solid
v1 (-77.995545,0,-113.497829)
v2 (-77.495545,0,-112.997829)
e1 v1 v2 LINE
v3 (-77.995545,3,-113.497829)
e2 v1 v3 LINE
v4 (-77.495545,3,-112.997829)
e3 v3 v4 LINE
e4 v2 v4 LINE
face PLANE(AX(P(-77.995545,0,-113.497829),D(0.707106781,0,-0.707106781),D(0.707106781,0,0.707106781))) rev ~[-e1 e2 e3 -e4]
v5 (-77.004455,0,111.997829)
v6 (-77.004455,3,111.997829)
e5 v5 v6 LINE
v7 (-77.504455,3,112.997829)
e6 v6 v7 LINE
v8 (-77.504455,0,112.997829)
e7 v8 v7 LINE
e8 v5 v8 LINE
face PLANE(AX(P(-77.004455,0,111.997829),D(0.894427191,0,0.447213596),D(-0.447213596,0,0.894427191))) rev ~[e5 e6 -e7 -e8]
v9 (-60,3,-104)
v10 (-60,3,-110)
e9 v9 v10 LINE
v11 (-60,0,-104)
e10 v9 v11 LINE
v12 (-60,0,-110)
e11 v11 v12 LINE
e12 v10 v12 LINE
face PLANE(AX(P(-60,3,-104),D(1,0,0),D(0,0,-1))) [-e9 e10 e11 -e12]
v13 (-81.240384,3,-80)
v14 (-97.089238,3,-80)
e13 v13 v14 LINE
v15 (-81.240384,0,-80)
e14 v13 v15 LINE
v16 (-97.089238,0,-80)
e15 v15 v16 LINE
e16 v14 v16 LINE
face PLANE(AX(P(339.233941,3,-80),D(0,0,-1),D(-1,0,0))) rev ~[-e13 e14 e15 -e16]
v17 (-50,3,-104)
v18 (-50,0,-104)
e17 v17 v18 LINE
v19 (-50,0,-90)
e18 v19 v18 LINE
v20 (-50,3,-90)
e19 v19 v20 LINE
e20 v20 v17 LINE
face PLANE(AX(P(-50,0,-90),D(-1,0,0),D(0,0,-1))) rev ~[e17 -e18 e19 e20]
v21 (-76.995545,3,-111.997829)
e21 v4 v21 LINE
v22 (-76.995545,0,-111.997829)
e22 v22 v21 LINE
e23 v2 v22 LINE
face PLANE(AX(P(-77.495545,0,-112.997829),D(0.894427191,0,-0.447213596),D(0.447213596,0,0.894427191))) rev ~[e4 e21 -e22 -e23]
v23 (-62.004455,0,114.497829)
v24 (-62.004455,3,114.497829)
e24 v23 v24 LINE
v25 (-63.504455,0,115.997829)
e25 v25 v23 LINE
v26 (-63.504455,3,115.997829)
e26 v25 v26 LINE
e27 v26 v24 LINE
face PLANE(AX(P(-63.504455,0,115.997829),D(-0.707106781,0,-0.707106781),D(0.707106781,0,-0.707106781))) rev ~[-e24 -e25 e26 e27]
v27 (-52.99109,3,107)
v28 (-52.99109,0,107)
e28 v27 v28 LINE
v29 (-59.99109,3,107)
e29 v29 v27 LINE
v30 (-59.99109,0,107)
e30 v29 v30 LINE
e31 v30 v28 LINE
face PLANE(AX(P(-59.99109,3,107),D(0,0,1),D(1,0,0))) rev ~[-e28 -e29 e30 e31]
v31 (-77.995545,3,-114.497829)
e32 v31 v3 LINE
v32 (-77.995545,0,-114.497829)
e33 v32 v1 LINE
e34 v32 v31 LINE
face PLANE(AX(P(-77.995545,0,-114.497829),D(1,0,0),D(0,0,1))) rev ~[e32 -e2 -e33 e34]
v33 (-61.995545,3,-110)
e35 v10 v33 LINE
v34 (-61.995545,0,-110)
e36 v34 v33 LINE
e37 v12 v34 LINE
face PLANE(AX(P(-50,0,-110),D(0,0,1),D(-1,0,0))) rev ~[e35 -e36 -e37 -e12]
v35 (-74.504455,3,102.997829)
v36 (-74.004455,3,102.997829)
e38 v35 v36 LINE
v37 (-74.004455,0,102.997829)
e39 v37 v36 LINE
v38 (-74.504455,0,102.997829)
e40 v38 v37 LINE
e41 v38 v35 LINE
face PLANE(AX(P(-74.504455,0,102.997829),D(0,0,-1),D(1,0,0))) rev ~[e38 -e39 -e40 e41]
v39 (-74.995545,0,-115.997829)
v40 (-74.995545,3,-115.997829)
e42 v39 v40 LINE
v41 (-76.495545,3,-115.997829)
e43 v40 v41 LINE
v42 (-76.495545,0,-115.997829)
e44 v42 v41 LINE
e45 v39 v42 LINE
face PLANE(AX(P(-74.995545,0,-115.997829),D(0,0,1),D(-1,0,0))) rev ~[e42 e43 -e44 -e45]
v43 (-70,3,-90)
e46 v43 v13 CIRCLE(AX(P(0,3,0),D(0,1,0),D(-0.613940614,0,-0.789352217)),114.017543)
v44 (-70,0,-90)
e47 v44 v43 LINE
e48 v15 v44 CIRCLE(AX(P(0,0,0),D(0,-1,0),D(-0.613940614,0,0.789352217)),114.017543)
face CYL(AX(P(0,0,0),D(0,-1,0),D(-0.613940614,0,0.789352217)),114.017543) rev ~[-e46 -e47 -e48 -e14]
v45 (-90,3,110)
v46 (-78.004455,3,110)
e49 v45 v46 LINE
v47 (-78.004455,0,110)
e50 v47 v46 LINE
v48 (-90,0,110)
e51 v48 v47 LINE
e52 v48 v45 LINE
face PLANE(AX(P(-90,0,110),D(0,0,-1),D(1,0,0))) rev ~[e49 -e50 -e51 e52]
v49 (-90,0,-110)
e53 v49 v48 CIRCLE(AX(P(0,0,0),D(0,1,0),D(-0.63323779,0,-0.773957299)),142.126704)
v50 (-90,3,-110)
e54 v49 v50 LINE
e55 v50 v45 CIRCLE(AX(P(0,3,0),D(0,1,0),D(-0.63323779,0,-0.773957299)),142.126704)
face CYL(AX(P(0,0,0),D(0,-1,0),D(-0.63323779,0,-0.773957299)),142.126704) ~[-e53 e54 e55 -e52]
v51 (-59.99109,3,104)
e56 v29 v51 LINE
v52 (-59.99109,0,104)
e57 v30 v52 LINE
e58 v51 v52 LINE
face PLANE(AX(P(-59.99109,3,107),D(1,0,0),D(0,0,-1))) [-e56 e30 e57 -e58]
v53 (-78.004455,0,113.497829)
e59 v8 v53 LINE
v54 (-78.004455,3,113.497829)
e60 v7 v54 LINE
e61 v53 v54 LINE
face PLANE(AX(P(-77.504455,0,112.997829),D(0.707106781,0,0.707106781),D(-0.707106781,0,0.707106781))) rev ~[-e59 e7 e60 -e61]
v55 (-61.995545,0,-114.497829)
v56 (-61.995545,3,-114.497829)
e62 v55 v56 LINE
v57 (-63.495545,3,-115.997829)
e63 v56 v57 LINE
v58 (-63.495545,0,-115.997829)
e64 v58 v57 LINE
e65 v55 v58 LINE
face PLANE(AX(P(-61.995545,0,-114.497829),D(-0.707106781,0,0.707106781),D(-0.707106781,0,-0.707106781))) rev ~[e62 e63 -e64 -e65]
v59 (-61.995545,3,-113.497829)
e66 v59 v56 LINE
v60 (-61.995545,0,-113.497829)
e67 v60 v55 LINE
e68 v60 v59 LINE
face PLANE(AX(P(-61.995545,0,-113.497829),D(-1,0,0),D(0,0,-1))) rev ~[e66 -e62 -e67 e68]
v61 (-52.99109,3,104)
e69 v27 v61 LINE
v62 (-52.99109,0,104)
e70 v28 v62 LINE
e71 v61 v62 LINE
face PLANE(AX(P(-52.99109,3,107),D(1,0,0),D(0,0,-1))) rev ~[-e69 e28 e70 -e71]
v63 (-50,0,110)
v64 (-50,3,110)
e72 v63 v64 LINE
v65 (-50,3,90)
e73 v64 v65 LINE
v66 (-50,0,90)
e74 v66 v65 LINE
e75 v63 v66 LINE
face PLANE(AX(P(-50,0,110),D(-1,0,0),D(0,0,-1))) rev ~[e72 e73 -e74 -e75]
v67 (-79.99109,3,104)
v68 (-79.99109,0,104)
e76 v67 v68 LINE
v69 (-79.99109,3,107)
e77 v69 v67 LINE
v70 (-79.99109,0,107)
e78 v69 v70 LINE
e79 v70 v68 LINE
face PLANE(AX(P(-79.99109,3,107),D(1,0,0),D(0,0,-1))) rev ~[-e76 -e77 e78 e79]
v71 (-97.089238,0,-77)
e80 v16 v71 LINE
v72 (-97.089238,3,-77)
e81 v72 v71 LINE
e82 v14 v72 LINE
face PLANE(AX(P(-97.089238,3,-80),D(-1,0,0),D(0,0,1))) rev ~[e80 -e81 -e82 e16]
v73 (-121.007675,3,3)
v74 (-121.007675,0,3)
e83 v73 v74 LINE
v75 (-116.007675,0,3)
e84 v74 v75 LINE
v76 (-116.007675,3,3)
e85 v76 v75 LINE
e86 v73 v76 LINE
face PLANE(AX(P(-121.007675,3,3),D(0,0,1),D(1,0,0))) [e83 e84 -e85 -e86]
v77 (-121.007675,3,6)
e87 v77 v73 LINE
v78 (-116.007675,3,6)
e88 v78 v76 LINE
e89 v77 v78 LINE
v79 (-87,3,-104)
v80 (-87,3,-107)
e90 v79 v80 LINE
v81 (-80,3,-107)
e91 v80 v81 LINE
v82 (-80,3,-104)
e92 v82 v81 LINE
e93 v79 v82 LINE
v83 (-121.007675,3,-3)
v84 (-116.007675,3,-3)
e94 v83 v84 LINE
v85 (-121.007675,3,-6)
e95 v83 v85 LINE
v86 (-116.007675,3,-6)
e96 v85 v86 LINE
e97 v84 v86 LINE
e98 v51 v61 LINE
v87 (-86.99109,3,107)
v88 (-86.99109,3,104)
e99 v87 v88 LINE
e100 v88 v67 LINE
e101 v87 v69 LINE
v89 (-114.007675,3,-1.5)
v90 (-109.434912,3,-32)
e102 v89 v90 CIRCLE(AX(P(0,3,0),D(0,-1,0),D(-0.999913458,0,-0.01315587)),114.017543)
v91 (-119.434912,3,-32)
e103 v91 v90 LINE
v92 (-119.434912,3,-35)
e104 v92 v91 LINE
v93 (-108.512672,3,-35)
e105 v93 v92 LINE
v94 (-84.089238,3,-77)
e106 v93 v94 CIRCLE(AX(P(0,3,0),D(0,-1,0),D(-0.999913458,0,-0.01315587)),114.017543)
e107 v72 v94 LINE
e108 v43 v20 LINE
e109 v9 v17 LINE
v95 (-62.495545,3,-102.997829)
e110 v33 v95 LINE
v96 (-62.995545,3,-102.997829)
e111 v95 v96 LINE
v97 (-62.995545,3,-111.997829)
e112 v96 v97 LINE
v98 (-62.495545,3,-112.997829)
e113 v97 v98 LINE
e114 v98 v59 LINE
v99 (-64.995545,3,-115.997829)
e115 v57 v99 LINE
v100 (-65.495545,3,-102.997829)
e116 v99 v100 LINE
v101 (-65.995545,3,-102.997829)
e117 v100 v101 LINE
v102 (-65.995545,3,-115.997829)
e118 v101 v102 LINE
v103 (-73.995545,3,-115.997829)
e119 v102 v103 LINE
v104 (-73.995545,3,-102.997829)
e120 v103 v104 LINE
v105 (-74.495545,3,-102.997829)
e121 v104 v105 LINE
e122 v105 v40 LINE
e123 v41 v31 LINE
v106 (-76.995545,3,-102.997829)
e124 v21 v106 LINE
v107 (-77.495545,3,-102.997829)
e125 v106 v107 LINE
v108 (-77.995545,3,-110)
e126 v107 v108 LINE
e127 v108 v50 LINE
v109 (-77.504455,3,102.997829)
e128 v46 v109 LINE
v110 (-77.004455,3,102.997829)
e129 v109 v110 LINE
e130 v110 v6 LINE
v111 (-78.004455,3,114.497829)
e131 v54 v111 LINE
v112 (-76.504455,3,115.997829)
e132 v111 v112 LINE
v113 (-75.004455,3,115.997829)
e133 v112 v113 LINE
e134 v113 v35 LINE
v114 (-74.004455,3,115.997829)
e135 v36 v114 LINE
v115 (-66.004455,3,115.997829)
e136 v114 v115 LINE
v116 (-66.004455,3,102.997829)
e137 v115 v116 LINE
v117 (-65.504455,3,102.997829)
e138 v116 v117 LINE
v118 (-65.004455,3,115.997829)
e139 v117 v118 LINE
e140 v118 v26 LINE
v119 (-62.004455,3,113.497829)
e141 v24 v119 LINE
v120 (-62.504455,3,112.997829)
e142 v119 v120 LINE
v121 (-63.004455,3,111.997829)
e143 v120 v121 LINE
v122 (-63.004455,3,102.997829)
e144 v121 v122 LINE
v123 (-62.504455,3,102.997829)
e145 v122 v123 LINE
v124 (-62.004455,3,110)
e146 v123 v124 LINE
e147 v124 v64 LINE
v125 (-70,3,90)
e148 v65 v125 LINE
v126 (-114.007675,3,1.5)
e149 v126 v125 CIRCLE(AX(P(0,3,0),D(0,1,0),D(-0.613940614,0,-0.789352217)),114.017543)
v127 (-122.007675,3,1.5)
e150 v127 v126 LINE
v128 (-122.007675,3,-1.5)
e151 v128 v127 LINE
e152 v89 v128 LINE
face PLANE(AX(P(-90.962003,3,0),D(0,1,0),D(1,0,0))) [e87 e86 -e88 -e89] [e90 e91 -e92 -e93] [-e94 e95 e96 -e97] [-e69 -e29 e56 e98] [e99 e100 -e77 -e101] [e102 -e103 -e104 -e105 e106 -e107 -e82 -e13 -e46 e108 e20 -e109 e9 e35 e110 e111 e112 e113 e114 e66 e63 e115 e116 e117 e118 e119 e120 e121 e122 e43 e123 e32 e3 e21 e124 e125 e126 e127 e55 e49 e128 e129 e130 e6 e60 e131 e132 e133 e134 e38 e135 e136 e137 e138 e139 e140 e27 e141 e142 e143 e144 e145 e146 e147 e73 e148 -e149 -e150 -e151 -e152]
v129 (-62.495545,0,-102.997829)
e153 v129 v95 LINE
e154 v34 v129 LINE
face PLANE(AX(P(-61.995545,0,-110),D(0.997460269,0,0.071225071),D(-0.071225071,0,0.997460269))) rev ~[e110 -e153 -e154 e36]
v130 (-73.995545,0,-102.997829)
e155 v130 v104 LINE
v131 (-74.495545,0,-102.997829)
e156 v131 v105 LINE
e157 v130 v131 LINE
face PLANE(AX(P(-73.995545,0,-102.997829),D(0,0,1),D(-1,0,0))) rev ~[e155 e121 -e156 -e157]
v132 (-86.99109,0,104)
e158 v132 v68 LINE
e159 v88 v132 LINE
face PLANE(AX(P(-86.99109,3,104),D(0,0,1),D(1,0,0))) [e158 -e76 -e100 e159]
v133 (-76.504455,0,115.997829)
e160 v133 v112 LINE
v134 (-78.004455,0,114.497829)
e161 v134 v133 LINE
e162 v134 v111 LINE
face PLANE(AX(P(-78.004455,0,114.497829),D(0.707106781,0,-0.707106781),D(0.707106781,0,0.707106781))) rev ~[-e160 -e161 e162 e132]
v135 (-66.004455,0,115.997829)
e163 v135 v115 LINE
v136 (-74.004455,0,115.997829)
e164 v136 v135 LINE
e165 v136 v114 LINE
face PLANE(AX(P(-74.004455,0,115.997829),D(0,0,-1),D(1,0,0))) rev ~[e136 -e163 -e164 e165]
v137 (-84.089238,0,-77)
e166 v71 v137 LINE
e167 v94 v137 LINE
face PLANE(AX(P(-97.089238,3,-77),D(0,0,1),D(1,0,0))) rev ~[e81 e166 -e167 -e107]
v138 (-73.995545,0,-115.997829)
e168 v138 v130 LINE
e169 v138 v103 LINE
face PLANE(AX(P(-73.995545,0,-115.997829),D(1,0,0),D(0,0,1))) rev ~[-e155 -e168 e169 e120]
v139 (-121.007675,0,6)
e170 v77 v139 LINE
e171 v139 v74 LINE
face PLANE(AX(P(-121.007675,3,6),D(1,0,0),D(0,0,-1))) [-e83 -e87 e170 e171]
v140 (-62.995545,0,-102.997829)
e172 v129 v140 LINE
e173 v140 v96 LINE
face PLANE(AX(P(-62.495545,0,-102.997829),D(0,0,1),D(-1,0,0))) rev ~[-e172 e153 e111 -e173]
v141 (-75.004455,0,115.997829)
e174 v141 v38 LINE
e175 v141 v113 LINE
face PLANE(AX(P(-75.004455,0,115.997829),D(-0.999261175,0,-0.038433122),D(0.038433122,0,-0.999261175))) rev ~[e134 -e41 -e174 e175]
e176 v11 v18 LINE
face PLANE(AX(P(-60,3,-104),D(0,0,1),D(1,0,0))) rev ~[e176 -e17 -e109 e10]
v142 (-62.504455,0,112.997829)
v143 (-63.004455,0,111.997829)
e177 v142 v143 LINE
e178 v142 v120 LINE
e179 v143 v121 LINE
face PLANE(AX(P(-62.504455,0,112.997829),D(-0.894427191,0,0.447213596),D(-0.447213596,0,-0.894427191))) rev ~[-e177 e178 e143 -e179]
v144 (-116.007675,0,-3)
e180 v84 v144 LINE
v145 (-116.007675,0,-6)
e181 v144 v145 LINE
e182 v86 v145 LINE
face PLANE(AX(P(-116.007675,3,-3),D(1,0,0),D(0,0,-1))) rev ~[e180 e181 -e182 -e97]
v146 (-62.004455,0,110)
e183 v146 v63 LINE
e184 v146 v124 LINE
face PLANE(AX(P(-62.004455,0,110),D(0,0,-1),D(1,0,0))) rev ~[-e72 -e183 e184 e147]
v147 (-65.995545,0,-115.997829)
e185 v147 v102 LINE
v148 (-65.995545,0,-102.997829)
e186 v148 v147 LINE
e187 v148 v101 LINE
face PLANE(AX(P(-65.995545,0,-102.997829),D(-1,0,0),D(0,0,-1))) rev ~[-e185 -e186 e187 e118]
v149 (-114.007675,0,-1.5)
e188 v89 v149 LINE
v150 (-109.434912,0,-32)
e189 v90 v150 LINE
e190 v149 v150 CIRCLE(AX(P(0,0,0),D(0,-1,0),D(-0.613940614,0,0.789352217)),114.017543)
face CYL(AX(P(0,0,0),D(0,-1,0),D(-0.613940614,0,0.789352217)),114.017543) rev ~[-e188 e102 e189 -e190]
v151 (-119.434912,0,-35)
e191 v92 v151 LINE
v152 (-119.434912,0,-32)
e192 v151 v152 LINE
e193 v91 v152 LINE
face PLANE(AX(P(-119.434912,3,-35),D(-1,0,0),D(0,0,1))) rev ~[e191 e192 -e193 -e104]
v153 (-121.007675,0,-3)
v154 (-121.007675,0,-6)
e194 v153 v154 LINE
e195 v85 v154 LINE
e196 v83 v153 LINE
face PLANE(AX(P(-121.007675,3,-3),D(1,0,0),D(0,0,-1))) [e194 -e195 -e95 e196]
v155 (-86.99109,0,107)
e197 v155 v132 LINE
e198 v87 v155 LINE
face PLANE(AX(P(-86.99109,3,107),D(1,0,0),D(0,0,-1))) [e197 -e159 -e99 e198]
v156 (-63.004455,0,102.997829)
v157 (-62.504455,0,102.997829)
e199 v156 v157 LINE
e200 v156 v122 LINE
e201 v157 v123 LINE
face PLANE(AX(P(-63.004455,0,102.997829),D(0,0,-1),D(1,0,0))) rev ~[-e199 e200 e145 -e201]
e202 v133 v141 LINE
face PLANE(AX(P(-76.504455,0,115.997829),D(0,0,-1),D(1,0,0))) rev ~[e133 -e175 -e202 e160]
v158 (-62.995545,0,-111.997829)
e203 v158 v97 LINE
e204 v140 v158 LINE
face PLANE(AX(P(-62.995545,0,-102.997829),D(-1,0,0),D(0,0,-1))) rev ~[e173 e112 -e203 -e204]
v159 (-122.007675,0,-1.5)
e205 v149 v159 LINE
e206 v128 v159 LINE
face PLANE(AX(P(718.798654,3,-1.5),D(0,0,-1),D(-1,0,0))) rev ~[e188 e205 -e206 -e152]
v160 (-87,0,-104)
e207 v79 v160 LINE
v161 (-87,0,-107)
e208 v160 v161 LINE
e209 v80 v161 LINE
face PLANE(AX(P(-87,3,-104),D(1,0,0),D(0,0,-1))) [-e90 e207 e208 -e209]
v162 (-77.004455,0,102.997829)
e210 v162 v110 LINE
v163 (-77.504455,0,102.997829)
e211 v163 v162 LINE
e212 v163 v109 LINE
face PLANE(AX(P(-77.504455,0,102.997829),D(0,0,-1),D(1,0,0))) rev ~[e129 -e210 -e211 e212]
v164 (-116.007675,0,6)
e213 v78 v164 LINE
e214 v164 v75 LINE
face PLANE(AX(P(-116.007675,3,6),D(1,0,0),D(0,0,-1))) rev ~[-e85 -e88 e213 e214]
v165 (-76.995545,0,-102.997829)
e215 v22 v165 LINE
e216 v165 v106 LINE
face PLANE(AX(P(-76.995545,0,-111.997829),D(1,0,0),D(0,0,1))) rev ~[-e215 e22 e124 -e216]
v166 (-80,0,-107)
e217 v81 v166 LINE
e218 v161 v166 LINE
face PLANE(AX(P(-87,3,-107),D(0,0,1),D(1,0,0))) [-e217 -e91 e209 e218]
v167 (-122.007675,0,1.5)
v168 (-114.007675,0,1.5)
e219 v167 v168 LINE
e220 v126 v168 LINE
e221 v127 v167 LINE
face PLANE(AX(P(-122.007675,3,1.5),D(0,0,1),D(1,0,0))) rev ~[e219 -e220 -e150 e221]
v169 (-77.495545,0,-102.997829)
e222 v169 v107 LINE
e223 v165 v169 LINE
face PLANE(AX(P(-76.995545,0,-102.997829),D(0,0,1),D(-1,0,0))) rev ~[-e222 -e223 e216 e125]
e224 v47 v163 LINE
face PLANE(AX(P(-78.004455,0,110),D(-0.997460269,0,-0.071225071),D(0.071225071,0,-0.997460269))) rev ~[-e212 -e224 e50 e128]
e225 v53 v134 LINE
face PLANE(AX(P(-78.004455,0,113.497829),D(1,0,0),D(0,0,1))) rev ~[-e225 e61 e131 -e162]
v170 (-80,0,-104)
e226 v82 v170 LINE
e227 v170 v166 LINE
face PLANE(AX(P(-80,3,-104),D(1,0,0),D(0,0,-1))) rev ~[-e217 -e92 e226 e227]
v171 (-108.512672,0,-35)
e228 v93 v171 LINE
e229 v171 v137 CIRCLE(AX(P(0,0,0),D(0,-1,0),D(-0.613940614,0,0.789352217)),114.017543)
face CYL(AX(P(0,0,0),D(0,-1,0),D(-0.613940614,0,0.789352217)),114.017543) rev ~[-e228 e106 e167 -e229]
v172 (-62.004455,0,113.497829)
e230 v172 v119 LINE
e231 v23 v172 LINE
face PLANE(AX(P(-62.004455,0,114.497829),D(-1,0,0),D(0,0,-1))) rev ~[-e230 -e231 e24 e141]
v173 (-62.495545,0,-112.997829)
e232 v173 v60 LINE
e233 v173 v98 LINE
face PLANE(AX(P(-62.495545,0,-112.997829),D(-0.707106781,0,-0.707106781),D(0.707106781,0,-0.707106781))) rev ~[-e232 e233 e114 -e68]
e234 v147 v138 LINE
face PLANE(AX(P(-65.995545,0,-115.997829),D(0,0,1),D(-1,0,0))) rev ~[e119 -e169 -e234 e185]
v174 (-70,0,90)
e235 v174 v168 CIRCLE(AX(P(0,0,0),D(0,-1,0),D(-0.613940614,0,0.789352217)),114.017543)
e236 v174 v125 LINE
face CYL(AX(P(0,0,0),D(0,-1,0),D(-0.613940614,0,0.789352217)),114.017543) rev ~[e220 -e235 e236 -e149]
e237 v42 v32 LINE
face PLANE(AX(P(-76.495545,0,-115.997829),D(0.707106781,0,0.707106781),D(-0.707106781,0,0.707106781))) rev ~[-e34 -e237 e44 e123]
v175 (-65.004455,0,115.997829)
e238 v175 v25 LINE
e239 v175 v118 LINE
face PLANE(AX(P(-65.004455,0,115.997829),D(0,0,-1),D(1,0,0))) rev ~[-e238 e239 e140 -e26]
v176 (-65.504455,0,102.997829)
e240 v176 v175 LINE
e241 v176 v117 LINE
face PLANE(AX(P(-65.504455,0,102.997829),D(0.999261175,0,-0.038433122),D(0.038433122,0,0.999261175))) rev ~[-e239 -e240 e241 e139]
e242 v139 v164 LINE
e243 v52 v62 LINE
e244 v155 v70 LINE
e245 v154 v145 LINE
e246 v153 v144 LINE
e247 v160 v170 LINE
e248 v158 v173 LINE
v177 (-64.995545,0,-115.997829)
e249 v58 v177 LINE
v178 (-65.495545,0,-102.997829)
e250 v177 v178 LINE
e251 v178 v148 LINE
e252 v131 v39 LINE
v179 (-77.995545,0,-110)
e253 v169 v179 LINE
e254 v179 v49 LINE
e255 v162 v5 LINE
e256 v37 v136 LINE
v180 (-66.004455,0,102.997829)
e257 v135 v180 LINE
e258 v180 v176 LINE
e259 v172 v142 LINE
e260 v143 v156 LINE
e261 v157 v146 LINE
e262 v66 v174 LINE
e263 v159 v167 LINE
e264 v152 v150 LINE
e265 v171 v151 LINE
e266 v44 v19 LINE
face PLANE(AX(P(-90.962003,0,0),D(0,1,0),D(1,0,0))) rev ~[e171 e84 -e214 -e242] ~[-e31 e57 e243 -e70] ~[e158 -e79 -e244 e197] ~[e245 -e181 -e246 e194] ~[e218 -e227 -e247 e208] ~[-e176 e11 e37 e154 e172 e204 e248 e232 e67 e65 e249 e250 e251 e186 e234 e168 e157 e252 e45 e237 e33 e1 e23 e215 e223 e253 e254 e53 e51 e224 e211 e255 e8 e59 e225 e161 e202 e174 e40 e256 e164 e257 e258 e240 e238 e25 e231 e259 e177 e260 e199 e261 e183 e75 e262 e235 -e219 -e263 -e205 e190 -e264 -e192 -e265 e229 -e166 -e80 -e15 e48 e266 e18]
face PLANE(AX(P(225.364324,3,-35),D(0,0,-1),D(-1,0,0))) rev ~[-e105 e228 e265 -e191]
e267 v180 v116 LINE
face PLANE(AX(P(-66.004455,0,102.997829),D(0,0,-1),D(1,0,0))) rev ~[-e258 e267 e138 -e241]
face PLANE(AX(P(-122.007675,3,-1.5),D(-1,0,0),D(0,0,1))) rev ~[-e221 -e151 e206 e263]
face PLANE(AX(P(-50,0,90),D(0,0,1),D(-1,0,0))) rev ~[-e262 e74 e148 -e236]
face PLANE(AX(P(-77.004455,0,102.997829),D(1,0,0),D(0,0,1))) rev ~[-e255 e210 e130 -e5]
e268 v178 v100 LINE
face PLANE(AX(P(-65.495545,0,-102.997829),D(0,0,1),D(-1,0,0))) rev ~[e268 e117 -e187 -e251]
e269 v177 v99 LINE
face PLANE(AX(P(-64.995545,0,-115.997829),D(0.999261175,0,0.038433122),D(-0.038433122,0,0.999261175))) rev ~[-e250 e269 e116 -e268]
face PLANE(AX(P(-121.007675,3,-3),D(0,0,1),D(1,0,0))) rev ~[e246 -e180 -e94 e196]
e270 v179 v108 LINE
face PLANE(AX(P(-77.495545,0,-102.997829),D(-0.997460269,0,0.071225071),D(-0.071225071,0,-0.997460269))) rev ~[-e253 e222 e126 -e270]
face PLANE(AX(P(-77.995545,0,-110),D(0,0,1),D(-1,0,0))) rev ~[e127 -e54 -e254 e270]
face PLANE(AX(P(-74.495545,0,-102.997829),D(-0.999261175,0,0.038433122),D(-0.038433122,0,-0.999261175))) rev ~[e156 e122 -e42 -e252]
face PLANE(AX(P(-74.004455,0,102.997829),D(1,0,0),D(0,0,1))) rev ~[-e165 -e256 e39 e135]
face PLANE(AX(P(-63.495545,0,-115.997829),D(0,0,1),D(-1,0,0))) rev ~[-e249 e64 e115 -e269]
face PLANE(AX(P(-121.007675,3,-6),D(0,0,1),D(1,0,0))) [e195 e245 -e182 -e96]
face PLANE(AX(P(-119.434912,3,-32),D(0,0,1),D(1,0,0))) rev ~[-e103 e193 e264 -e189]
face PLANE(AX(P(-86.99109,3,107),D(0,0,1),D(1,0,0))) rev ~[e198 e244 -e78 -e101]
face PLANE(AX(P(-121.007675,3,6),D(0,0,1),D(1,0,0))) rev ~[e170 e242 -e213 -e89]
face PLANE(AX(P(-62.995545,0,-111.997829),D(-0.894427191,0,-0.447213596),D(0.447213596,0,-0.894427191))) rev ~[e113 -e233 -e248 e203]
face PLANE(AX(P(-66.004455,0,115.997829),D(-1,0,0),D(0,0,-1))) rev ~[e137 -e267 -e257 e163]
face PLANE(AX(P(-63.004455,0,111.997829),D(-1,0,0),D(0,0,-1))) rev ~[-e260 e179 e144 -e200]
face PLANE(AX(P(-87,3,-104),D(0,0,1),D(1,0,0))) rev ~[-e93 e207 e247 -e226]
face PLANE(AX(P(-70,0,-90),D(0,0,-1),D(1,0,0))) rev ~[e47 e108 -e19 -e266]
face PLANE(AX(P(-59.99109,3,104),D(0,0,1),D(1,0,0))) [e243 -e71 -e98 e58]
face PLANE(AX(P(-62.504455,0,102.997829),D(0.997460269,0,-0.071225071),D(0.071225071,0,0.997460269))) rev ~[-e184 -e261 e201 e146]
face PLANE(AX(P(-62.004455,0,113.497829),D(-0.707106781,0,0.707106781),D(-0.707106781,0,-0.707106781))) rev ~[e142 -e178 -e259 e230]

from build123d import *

# Parameters (mm, degrees)
BOSS_EXTRUDE2_DEPTH      = 3
SKETCH3_W                = 10
SKETCH3_H                = 6
SKETCH3_W_2              = 7
SKETCH3_H_2              = 3
CUT_EXTRUDE1_DEPTH       = 3
CUT_EXTRUDE3_DEPTH       = 1
CUT_EXTRUDE3_DEPTH_BACK  = 3
SKETCH10_W               = 5
SKETCH10_H               = 3
CUT_EXTRUDE4_DEPTH       = 10
CUT_EXTRUDE12_DEPTH      = 1
CUT_EXTRUDE12_DEPTH_BACK = 3
CUT_EXTRUDE13_DEPTH      = 1
CUT_EXTRUDE13_DEPTH_BACK = 3


with BuildPart() as part:
    # Sketch2 → Boss-Extrude2 (new body)
    with BuildSketch(Plane(origin=(0, 0, 0), x_dir=(1, 0, 0), z_dir=(0, 1, 0))):
        with BuildLine():
            Line((-70, 90), (-50, 90))
            Line((-50, 90), (-50, 110))
            Line((-50, 110), (-61.99554496, 110))
            Line((-61.99554496, 110), (-62.49554496, 102.997828908))
            Line((-62.49554496, 102.997828908), (-62.99554496, 102.997828908))
            Line((-62.99554496, 102.997828908), (-62.99554496, 111.997828908))
            Line((-62.99554496, 111.997828908), (-62.49554496, 112.997828908))
            Line((-62.49554496, 112.997828908), (-61.99554496, 113.497828908))
            Line((-61.99554496, 113.497828908), (-61.99554496, 114.497828908))
            Line((-61.99554496, 114.497828908), (-63.49554496, 115.997828908))
            Line((-63.49554496, 115.997828908), (-64.99554496, 115.997828908))
            Line((-64.99554496, 115.997828908), (-65.49554496, 102.997828908))
            Line((-65.49554496, 102.997828908), (-65.99554496, 102.997828908))
            Line((-65.99554496, 102.997828908), (-65.99554496, 115.997828908))
            Line((-65.99554496, 115.997828908), (-73.99554496, 115.997828908))
            Line((-73.99554496, 115.997828908), (-73.99554496, 102.997828908))
            Line((-73.99554496, 102.997828908), (-74.49554496, 102.997828908))
            Line((-74.49554496, 102.997828908), (-74.99554496, 115.997828908))
            Line((-74.99554496, 115.997828908), (-76.49554496, 115.997828908))
            Line((-76.49554496, 115.997828908), (-77.99554496, 114.497828908))
            Line((-77.99554496, 114.497828908), (-77.99554496, 113.497828908))
            Line((-77.99554496, 113.497828908), (-77.49554496, 112.997828908))
            Line((-77.49554496, 112.997828908), (-76.99554496, 111.997828908))
            Line((-76.99554496, 111.997828908), (-76.99554496, 102.997828908))
            Line((-76.99554496, 102.997828908), (-77.49554496, 102.997828908))
            Line((-77.49554496, 102.997828908), (-77.99554496, 110))
            Line((-77.99554496, 110), (-90, 110))
            ThreePointArc((-90, 110), (-142.126704036, 0), (-90, -110))
            Line((-90, -110), (-78.00445504, -110))
            Line((-78.00445504, -110), (-77.50445504, -102.997828908))
            Line((-77.50445504, -102.997828908), (-77.00445504, -102.997828908))
            Line((-77.00445504, -102.997828908), (-77.00445504, -111.997828908))
            Line((-77.00445504, -111.997828908), (-77.50445504, -112.997828908))
            Line((-77.50445504, -112.997828908), (-78.00445504, -113.497828908))
            Line((-78.00445504, -113.497828908), (-78.00445504, -114.497828908))
            Line((-78.00445504, -114.497828908), (-76.50445504, -115.997828908))
            Line((-76.50445504, -115.997828908), (-75.00445504, -115.997828908))
            Line((-75.00445504, -115.997828908), (-74.50445504, -102.997828908))
            Line((-74.50445504, -102.997828908), (-74.00445504, -102.997828908))
            Line((-74.00445504, -102.997828908), (-74.00445504, -115.997828908))
            Line((-74.00445504, -115.997828908), (-66.00445504, -115.997828908))
            Line((-66.00445504, -115.997828908), (-66.00445504, -102.997828908))
            Line((-66.00445504, -102.997828908), (-65.50445504, -102.997828908))
            Line((-65.50445504, -102.997828908), (-65.00445504, -115.997828908))
            Line((-65.00445504, -115.997828908), (-63.50445504, -115.997828908))
            Line((-63.50445504, -115.997828908), (-62.00445504, -114.497828908))
            Line((-62.00445504, -114.497828908), (-62.00445504, -113.497828908))
            Line((-62.00445504, -113.497828908), (-62.50445504, -112.997828908))
            Line((-62.50445504, -112.997828908), (-63.00445504, -111.997828908))
            Line((-63.00445504, -111.997828908), (-63.00445504, -102.997828908))
            Line((-63.00445504, -102.997828908), (-62.50445504, -102.997828908))
            Line((-62.50445504, -102.997828908), (-62.00445504, -110))
            Line((-62.00445504, -110), (-50, -110))
            Line((-50, -110), (-50, -90))
            Line((-50, -90), (-70, -90))
            ThreePointArc((-70, -90), (-114.01754251, 0), (-70, 90))
        make_face()
    extrude(amount=BOSS_EXTRUDE2_DEPTH)

    # Sketch3 → Cut-Extrude1 (cut)
    with BuildSketch(Plane(origin=(0, 3, 0), x_dir=(1, 0, 0), z_dir=(0, 1, 0))):
        with Locations((-55, 107)):
            Rectangle(SKETCH3_W, SKETCH3_H)
        with Locations((-83.5, 105.5)):
            Rectangle(SKETCH3_W_2, SKETCH3_H_2)
        with Locations((-56.491089921, -105.5)):
            Rectangle(SKETCH3_W_2, SKETCH3_H_2)
        with Locations((-83.491089921, -105.5)):
            Rectangle(SKETCH3_W_2, SKETCH3_H_2)
    extrude(amount=-CUT_EXTRUDE1_DEPTH, mode=Mode.SUBTRACT)

    # Sketch8 → Cut-Extrude3 (cut, two sides)
    with BuildSketch(Plane(origin=(0, 3, 0), x_dir=(1, 0, 0), z_dir=(0, 1, 0))) as cut_extrude3_sk:
        Polygon((163.594434528, 1.5), (-114.00767518, 1.5), (-122.00767518, 1.5), (-122.00767518, -1.5), (-114.00767518, -1.5), (163.594434528, -1.5), (718.798653945, -1.5), (718.798653945, 1.5), align=None)
    extrude(amount=CUT_EXTRUDE3_DEPTH, mode=Mode.SUBTRACT)
    extrude(cut_extrude3_sk.sketch, amount=-CUT_EXTRUDE3_DEPTH_BACK, mode=Mode.SUBTRACT)

    # Sketch10 → Cut-Extrude4 (cut)
    with BuildSketch(Plane(origin=(0, 3, 0), x_dir=(1, 0, 0), z_dir=(0, 1, 0))):
        with Locations((-118.50767518, 4.5)):
            Rectangle(SKETCH10_W, SKETCH10_H)
        with Locations((-118.50767518, -4.5)):
            Rectangle(SKETCH10_W, SKETCH10_H)
    extrude(amount=-CUT_EXTRUDE4_DEPTH, mode=Mode.SUBTRACT)

    # Sketch9 → Cut-Extrude12 (cut, two sides)
    with BuildSketch(Plane(origin=(0, 3, 0), x_dir=(1, 0, 0), z_dir=(0, 1, 0))) as cut_extrude12_sk:
        Polygon((339.233941087, 80), (-81.240384046, 80), (-97.089238313, 80), (-97.089238313, 77), (-84.089238313, 77), (336.385086821, 77), (946.188662062, -502.080505639), (949.037516328, -499.080505639), align=None)
    extrude(amount=CUT_EXTRUDE12_DEPTH, mode=Mode.SUBTRACT)
    extrude(cut_extrude12_sk.sketch, amount=-CUT_EXTRUDE12_DEPTH_BACK, mode=Mode.SUBTRACT)

    # Sketch13 → Cut-Extrude13 (cut, two sides)
    with BuildSketch(Plane(origin=(0, 3, 0), x_dir=(1, 0, 0), z_dir=(0, 1, 0))) as cut_extrude13_sk:
        Polygon((225.364323888, 35), (-108.512672071, 35), (-119.434912162, 35), (-119.434912162, 32), (-109.434912162, 32), (224.442083797, 32), (862.717356055, -164.214348471), (863.639596146, -161.214348471), align=None)
    extrude(amount=CUT_EXTRUDE13_DEPTH, mode=Mode.SUBTRACT)
    extrude(cut_extrude13_sk.sketch, amount=-CUT_EXTRUDE13_DEPTH_BACK, mode=Mode.SUBTRACT)


solid = part.part
